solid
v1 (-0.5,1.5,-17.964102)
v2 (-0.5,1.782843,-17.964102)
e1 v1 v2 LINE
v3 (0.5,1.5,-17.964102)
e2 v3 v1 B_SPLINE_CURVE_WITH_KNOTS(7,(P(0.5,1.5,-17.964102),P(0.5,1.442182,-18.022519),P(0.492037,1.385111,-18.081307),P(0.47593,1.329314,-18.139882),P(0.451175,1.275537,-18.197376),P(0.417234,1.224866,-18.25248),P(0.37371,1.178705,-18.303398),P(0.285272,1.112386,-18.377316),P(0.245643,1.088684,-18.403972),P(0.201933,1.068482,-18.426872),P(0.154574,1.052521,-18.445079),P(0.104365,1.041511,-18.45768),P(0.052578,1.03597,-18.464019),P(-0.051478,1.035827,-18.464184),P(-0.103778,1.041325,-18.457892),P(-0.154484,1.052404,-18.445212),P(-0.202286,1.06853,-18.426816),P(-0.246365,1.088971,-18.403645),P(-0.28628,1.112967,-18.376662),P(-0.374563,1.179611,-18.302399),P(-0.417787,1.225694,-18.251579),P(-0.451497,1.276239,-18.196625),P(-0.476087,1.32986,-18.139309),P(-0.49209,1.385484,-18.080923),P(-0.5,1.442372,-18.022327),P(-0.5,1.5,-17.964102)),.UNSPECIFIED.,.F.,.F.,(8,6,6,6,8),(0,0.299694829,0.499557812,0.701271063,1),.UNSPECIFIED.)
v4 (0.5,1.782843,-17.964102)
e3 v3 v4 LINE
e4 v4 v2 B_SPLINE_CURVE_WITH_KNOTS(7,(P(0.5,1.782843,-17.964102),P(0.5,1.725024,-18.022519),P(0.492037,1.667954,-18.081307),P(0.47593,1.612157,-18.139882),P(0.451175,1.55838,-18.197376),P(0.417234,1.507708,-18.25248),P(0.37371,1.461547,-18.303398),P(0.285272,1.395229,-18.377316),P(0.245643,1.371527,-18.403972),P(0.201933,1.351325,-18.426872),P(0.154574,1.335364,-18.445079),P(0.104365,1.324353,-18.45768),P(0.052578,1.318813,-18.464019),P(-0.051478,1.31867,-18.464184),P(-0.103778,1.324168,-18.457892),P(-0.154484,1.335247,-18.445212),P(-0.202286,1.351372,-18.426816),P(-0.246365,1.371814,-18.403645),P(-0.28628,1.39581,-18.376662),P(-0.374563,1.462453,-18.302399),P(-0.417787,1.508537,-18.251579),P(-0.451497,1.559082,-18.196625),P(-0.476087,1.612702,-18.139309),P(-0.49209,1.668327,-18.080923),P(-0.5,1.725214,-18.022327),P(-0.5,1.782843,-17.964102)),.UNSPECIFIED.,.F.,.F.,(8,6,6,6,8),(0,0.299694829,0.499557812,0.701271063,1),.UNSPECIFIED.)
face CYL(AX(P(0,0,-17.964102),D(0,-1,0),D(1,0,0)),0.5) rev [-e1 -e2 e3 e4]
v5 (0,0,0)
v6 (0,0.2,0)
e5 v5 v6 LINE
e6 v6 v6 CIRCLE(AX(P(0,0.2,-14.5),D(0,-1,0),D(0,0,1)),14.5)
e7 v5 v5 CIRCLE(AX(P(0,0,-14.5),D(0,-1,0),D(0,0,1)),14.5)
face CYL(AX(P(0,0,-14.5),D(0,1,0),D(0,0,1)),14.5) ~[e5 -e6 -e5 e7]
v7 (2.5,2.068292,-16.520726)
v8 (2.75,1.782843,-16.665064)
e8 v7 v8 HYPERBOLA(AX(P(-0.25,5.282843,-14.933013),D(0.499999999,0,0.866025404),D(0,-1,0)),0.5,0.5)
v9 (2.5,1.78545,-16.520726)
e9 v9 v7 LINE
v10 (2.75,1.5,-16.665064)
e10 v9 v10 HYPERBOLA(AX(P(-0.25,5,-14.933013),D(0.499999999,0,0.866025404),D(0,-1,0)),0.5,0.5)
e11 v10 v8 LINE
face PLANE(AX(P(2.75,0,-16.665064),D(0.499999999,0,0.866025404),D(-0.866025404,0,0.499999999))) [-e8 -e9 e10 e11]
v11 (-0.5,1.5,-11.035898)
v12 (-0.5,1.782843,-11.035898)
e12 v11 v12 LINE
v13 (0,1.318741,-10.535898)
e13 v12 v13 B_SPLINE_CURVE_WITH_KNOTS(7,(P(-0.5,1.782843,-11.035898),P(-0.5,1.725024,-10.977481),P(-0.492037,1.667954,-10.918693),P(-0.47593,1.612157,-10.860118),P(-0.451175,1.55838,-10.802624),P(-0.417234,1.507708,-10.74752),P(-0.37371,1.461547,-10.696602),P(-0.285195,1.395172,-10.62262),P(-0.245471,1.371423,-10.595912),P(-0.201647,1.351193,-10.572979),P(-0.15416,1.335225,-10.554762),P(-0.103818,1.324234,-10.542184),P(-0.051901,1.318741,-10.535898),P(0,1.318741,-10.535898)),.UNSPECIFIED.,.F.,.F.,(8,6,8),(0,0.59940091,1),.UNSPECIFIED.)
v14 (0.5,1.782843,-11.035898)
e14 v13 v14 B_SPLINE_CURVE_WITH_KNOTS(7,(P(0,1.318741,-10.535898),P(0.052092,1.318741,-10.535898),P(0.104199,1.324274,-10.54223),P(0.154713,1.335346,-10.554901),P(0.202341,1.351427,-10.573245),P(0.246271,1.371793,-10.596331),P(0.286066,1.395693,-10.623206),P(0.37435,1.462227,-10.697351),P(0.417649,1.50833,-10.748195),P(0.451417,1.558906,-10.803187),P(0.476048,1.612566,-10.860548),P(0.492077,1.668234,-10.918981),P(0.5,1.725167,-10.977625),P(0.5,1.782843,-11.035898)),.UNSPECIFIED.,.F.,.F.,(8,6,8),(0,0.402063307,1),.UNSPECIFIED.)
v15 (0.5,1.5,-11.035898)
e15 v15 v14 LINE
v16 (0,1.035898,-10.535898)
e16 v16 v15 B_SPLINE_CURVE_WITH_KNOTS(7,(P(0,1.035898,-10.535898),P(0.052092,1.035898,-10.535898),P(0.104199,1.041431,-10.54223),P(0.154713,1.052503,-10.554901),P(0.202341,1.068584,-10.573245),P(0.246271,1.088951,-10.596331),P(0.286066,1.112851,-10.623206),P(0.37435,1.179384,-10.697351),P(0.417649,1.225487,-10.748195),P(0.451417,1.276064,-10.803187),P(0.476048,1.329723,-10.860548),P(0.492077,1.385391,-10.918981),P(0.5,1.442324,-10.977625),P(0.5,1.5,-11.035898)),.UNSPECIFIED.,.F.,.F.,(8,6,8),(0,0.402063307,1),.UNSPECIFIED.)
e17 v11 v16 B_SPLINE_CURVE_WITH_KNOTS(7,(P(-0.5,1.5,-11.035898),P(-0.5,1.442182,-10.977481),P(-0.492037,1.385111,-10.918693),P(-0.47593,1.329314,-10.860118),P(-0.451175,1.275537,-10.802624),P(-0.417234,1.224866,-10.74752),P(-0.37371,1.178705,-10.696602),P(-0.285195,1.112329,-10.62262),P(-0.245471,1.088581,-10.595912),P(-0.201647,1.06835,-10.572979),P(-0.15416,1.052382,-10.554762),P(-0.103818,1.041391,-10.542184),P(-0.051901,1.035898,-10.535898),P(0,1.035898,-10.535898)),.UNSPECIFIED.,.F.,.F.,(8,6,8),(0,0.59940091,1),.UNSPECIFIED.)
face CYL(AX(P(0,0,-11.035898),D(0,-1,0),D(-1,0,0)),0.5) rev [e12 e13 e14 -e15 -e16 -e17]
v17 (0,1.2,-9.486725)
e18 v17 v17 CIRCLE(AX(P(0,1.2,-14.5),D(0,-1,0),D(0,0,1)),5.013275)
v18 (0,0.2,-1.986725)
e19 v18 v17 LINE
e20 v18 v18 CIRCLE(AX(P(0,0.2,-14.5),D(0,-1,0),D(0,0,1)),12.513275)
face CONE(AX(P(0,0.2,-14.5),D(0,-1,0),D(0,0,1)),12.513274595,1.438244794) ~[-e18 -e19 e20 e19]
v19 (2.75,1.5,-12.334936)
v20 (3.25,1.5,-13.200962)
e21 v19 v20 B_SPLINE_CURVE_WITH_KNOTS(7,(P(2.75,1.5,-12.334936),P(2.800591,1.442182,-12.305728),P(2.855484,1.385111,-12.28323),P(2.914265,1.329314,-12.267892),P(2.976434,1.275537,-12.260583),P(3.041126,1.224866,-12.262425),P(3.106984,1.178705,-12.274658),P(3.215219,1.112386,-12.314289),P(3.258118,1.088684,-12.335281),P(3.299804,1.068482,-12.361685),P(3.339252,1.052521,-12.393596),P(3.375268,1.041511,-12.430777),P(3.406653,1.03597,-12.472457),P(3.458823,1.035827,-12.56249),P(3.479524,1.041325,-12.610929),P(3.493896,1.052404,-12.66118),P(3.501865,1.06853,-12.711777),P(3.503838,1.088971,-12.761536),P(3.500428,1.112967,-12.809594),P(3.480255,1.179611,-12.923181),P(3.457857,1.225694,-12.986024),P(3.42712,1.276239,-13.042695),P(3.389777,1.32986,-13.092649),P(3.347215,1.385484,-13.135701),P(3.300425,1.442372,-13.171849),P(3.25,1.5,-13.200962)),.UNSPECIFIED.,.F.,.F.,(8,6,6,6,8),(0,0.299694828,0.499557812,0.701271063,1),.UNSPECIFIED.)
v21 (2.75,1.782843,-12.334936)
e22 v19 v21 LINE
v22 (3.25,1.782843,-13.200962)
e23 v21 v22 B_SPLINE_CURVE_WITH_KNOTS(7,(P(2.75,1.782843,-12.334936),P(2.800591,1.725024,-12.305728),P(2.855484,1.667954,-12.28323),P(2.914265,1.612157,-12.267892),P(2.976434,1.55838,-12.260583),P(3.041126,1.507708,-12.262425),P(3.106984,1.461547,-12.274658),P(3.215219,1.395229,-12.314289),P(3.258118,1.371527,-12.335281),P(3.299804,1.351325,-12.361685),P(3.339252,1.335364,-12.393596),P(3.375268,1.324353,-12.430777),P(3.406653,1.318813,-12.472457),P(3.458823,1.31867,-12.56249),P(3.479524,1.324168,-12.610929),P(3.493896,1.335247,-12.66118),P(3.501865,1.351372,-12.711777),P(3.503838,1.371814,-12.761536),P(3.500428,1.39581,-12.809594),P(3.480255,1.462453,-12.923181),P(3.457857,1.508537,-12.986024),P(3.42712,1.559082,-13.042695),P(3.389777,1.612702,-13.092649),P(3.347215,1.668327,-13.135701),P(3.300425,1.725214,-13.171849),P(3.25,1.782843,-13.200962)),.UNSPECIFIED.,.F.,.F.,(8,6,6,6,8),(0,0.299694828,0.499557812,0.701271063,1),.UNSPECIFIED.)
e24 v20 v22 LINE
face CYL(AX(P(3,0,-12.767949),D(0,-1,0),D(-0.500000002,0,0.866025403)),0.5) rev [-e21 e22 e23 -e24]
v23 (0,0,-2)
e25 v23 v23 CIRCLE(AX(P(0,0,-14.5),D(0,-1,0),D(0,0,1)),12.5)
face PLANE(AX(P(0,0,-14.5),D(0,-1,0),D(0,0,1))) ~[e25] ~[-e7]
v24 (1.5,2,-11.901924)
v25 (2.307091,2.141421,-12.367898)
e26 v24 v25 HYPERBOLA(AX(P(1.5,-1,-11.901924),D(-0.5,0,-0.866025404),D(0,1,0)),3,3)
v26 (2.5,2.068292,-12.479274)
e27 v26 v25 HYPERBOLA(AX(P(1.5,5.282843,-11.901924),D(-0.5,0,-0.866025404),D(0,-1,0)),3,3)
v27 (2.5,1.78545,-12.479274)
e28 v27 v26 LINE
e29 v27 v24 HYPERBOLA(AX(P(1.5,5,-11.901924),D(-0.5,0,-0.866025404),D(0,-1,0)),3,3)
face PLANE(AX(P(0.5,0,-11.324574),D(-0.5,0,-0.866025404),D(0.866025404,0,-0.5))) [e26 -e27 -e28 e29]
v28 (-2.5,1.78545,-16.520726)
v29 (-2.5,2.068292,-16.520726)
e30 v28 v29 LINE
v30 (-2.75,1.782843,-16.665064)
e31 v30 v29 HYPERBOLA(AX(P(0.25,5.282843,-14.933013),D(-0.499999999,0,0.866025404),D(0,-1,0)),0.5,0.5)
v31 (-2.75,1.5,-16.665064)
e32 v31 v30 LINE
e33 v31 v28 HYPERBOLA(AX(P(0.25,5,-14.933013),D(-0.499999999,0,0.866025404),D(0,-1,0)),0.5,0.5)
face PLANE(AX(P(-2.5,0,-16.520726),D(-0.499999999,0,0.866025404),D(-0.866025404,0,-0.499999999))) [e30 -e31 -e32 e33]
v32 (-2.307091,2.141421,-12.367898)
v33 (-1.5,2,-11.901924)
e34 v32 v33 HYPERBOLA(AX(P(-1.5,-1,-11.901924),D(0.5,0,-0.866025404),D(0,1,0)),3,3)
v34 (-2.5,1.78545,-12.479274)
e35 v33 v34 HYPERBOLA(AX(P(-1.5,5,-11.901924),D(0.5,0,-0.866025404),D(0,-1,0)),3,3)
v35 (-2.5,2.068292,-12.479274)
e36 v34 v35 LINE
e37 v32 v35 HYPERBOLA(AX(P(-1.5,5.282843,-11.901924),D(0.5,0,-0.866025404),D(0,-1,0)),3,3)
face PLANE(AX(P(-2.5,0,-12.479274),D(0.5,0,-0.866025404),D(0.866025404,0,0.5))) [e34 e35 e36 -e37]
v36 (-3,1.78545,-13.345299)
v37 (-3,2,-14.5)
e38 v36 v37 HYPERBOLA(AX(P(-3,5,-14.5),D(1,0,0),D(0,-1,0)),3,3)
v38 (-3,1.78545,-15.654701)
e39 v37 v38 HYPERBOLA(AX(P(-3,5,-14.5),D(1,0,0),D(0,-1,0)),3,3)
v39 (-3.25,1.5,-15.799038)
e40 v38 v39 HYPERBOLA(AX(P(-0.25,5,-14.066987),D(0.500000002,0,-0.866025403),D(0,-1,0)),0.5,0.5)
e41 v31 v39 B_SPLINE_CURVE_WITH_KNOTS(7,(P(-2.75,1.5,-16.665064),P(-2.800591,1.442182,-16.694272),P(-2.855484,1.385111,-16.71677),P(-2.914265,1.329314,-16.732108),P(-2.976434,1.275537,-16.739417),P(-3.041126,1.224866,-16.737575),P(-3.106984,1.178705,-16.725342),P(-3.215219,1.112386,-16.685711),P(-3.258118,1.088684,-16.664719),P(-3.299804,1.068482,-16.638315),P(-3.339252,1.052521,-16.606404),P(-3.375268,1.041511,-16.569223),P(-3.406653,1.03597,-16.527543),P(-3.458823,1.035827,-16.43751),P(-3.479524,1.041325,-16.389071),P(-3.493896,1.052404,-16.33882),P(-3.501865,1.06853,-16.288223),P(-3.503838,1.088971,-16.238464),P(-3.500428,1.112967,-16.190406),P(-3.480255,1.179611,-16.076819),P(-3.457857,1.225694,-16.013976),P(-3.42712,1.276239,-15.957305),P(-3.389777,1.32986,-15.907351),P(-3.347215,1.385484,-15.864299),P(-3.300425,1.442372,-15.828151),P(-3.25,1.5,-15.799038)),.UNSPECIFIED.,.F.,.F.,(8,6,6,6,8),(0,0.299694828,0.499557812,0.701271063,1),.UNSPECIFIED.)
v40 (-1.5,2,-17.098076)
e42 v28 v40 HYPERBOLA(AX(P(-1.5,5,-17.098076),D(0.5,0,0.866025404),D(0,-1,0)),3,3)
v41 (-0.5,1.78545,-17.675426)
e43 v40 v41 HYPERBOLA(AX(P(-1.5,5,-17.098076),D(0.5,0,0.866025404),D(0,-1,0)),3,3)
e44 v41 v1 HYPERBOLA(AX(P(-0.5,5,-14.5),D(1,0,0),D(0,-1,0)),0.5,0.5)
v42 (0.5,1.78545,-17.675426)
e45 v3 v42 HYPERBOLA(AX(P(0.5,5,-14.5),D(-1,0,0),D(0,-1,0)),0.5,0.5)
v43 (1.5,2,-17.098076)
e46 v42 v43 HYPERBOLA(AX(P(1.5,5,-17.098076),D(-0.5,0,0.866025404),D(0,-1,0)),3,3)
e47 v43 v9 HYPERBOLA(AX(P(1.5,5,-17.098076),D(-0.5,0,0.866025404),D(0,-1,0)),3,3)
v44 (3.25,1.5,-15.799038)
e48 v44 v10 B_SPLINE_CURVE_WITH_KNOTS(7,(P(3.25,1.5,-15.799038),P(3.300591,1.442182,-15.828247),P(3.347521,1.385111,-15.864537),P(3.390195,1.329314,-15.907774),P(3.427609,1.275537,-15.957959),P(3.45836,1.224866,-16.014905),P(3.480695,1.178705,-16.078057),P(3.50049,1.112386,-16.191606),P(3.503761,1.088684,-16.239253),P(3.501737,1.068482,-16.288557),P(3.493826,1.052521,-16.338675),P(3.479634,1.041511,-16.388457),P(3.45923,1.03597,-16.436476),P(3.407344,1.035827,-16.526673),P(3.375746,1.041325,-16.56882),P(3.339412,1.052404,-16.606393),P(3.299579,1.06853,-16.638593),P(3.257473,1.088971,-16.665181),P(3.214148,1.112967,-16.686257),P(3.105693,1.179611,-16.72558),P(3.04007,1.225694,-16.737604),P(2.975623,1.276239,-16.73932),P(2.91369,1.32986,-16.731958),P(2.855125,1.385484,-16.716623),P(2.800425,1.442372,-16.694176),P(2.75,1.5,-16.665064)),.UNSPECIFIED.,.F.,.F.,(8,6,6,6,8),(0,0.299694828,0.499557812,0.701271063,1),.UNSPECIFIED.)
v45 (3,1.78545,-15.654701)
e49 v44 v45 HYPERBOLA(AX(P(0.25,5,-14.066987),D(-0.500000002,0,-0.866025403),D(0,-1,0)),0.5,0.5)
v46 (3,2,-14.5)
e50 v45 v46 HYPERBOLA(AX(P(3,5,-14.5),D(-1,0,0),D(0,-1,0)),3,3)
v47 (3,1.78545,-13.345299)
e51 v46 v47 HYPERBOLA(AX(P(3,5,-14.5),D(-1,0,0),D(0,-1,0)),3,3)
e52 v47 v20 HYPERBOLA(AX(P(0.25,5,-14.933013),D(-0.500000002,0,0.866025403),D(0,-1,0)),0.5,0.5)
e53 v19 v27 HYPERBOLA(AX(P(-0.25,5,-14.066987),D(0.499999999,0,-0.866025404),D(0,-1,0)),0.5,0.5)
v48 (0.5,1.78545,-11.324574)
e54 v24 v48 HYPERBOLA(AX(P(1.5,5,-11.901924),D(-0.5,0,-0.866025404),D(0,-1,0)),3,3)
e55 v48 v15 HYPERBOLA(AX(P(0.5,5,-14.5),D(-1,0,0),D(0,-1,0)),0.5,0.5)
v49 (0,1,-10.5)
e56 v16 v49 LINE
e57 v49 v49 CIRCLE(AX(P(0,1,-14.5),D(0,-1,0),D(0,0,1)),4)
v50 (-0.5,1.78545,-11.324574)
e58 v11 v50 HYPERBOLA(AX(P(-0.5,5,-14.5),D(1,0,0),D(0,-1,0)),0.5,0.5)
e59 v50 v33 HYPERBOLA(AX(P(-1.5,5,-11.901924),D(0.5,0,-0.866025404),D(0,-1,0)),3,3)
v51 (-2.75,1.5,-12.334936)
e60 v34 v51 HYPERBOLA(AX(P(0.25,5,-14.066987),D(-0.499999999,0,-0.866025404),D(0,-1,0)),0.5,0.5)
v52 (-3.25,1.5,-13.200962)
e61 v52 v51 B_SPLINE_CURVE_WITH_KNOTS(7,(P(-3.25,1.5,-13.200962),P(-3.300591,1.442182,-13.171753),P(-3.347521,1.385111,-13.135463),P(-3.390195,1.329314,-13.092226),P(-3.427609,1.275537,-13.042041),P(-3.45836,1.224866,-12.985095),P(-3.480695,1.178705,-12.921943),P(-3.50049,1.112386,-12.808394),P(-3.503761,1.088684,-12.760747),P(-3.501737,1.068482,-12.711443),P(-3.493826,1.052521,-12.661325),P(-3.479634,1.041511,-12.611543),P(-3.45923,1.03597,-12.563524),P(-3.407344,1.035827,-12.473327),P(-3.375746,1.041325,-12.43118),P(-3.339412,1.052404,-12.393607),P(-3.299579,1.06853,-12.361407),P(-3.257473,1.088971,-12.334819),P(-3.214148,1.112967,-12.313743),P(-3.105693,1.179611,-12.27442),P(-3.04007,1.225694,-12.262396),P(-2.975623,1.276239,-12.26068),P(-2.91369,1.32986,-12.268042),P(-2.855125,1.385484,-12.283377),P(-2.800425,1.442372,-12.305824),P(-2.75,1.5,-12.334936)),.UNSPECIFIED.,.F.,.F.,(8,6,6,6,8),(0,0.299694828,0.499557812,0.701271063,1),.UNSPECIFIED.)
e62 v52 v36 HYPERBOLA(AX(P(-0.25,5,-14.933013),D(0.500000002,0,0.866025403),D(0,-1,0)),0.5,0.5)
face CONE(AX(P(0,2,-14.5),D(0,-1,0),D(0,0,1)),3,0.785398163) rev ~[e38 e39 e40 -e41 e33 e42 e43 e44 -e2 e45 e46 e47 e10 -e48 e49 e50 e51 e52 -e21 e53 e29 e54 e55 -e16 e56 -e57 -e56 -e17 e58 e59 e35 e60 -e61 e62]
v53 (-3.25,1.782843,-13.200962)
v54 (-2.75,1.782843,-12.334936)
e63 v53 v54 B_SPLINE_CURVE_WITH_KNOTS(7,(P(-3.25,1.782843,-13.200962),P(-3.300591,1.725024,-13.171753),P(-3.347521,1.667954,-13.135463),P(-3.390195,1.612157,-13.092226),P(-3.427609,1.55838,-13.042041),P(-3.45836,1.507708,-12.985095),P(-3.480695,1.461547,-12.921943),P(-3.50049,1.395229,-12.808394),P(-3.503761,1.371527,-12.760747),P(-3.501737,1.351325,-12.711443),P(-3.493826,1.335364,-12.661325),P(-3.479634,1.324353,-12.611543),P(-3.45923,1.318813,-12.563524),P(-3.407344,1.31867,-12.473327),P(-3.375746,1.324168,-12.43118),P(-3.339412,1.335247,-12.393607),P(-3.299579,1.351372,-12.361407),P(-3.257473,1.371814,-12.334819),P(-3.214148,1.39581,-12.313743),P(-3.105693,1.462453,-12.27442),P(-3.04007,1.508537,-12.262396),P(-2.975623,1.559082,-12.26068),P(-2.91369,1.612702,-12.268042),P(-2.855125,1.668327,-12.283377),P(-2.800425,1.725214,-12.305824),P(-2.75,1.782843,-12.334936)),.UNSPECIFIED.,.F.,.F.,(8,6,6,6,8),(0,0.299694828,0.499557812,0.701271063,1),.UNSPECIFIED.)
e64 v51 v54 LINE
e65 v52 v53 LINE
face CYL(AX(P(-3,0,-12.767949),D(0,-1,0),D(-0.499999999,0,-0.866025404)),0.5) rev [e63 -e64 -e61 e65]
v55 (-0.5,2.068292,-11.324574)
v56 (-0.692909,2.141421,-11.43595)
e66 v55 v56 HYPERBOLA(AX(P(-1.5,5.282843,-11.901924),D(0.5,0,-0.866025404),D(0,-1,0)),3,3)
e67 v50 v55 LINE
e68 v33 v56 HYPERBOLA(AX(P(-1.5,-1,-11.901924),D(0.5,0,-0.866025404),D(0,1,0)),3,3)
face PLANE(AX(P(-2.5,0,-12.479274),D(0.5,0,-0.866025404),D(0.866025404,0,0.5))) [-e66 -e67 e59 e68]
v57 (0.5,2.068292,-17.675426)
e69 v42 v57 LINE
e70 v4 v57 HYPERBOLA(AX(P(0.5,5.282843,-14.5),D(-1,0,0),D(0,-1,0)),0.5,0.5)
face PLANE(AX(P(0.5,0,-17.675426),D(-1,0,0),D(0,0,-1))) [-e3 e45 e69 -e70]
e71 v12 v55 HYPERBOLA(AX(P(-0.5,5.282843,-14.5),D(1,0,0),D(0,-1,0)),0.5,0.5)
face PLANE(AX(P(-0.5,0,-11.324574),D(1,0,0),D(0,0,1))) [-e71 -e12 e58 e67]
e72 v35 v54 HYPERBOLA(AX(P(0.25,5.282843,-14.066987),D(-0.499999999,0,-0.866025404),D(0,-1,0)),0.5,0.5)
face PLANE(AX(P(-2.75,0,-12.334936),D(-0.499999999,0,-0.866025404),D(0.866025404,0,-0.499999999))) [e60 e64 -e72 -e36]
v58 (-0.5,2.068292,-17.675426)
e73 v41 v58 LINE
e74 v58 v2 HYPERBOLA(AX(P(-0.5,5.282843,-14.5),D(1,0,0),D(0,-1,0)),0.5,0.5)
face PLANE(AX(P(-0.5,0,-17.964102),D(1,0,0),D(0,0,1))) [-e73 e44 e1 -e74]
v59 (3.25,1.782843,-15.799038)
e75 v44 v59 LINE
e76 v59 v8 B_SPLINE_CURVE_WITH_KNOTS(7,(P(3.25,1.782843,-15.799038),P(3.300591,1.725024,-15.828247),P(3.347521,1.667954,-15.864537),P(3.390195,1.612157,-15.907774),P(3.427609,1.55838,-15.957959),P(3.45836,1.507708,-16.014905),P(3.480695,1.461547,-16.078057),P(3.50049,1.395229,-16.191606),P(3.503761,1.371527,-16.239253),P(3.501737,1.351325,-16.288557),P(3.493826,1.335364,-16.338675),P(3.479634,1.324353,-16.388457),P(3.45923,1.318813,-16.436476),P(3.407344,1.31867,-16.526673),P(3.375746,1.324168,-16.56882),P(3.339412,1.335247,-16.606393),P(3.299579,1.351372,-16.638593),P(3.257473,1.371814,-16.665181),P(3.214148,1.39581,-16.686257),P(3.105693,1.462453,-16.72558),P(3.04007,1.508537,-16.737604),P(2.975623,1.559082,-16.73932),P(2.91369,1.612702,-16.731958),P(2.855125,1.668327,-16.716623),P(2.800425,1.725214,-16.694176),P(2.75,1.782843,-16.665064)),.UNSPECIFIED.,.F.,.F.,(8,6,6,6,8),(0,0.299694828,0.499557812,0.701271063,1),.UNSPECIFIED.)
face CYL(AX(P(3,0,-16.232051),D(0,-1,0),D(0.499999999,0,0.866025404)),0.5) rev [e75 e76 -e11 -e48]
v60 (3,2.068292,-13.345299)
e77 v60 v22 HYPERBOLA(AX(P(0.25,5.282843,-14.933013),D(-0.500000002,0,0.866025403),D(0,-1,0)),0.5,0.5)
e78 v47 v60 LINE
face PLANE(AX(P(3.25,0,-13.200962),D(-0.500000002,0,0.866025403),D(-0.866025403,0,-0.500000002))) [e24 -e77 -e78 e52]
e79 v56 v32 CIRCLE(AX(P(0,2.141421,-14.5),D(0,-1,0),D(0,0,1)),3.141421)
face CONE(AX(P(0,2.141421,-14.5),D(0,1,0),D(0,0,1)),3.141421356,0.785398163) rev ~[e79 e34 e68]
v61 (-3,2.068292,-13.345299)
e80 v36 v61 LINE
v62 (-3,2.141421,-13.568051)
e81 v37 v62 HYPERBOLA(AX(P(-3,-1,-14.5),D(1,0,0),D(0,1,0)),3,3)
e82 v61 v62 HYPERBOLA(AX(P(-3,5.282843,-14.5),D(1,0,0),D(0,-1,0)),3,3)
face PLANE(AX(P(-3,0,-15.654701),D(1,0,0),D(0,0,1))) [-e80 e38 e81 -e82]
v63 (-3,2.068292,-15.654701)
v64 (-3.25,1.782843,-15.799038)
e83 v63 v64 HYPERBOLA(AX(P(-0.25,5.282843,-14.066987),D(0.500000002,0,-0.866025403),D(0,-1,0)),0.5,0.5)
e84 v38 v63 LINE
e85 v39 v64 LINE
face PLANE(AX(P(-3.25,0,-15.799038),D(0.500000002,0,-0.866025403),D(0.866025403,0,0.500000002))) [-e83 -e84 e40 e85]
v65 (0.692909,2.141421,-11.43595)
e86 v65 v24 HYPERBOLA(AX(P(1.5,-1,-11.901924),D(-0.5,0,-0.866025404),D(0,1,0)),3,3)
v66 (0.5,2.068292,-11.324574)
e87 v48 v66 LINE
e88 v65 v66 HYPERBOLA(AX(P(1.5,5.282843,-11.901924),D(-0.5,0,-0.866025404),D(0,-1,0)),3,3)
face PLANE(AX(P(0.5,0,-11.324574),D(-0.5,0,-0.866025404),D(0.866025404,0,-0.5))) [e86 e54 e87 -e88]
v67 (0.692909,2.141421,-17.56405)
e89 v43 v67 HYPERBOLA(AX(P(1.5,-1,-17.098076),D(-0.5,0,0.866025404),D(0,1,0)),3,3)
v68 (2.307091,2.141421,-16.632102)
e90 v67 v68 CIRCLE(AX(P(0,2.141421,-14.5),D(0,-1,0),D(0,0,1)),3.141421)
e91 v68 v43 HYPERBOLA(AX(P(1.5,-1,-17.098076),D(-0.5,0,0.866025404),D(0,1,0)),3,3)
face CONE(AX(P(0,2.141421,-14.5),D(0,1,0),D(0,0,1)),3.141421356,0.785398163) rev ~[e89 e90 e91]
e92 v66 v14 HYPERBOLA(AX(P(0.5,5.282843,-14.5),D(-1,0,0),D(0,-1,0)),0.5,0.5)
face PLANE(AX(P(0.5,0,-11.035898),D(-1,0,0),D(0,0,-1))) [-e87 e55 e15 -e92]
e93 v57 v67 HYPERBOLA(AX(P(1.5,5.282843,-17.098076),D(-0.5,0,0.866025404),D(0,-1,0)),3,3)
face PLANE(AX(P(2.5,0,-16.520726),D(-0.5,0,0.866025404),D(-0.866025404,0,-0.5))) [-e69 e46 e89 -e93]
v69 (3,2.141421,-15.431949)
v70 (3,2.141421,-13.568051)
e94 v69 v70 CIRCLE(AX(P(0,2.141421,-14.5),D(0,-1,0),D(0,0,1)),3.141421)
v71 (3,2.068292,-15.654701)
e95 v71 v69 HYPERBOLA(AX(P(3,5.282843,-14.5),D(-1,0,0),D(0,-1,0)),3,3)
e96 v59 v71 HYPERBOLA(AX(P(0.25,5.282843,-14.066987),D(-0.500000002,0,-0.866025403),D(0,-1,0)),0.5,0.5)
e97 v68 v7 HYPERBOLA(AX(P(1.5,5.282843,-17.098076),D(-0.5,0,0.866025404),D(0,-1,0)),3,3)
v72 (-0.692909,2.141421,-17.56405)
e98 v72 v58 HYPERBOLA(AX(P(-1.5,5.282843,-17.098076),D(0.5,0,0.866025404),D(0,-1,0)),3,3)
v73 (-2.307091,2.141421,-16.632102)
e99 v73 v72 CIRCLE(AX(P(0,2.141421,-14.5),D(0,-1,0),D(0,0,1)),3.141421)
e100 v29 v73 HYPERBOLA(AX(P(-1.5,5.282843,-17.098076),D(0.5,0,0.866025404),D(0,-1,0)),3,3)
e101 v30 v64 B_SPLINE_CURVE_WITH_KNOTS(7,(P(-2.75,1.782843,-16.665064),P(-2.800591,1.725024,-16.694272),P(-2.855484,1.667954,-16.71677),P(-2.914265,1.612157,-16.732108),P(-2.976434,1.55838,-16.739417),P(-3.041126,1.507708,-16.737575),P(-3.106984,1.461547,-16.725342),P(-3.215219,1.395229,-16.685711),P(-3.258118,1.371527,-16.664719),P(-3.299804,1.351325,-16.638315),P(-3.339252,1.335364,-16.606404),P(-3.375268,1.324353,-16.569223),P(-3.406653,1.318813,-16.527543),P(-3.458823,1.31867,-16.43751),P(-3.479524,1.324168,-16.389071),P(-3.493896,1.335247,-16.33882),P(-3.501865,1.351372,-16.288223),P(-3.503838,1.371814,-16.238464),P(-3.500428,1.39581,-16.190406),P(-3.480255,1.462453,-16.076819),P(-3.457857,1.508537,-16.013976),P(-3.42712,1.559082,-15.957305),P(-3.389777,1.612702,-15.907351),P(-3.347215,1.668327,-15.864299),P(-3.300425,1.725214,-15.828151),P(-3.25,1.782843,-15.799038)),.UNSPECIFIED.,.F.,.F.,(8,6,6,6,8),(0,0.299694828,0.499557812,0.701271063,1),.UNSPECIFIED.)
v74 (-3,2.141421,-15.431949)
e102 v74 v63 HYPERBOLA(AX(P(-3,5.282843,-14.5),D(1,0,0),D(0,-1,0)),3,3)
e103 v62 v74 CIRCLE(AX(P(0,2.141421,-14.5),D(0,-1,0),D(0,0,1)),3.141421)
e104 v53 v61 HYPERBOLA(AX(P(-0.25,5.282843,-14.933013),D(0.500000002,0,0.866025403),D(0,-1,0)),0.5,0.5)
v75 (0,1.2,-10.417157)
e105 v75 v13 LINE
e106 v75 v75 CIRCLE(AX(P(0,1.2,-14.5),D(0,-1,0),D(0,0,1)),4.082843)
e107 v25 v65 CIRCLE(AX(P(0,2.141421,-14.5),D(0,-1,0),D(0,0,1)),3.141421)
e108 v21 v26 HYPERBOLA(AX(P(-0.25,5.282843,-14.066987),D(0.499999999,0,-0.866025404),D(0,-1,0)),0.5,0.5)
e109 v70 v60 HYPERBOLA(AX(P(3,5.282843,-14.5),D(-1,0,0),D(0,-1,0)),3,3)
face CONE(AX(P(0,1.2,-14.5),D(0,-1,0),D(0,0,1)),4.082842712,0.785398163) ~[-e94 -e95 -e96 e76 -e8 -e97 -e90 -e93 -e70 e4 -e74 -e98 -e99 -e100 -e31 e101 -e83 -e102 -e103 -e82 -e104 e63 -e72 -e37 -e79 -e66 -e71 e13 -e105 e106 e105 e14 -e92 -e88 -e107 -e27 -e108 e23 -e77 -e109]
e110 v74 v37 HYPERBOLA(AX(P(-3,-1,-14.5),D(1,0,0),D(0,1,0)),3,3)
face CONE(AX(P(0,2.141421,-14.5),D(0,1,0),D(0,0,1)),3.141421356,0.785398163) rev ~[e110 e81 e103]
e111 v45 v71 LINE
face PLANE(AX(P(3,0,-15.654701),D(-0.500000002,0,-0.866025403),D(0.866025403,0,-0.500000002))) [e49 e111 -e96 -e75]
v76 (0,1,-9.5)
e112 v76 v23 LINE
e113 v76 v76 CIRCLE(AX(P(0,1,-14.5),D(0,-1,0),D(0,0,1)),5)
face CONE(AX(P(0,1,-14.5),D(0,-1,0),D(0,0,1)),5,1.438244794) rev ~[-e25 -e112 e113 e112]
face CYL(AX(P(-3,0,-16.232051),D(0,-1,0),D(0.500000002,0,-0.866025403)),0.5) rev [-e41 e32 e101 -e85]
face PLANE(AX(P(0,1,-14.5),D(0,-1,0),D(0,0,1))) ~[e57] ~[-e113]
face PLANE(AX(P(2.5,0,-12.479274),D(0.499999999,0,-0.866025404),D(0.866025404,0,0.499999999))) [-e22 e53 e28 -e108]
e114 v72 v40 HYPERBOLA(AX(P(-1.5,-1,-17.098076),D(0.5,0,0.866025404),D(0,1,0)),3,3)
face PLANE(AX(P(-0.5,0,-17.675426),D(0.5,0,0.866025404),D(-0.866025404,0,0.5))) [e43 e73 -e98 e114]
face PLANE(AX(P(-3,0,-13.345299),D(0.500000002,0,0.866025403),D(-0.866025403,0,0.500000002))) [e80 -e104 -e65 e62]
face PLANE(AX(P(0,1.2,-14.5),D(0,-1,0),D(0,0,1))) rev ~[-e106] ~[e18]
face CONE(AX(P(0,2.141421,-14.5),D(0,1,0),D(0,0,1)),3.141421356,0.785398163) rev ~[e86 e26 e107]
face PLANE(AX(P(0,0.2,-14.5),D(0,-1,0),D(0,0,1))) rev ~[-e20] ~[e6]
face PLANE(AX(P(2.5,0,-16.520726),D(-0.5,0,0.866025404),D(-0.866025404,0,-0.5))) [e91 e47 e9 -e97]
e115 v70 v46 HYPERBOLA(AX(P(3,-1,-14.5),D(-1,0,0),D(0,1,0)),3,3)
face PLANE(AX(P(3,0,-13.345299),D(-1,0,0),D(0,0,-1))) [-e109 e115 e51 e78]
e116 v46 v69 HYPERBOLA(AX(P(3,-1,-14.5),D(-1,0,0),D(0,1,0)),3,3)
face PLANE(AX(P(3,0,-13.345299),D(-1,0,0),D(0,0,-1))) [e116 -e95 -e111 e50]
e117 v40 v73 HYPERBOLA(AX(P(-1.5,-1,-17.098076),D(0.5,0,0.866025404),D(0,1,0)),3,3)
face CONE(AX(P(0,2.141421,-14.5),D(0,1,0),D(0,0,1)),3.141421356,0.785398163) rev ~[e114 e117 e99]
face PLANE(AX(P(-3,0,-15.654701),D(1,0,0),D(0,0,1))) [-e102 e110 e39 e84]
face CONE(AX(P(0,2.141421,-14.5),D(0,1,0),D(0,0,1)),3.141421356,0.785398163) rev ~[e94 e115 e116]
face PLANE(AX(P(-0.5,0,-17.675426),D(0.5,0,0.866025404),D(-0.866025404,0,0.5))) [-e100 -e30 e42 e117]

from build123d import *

# Parameters (mm, degrees)
CUT_EXTRUDE2_DEPTH = 10


with BuildPart() as part:
    # Sketch1 → Revolve1 (revolve)
    with BuildSketch(Plane(origin=(0, 0, 0), x_dir=(0, 0, -1), z_dir=(1, 0, 0))):
        Polygon((0, 0), (0, 0.2), (1.986725405, 0.2), (9.486725405, 1.2), (10.417157288, 1.2), (11.358578644, 2.141421356), (11.5, 2), (10.5, 1), (9.5, 1), (2, 0), align=None)
    revolve(axis=Axis((0, 1.2, -14.5), (0, -1, 0)))

    # Sketch3 → Cut-Extrude2 (cut)
    with BuildSketch(Plane(origin=(0, 0, 0), x_dir=(1, 0, 0), z_dir=(0, 1, 0))):
        with BuildLine():
            Line((3.25, 13.200961894), (3, 13.345299462))
            Line((3, 13.345299462), (3, 15.654700538))
            Line((3, 15.654700538), (3.25, 15.799038106))
            ThreePointArc((3.25, 15.799038106), (3.433012702, 16.482050808), (2.75, 16.665063509))
            Line((2.75, 16.665063509), (2.5, 16.520725942))
            Line((2.5, 16.520725942), (0.5, 17.675426481))
            Line((0.5, 17.675426481), (0.5, 17.964101615))
            ThreePointArc((0.5, 17.964101615), (0, 18.464101615), (-0.5, 17.964101615))
            Line((-0.5, 17.964101615), (-0.5, 17.675426481))
            Line((-0.5, 17.675426481), (-2.5, 16.520725942))
            Line((-2.5, 16.520725942), (-2.75, 16.665063509))
            ThreePointArc((-2.75, 16.665063509), (-3.433012702, 16.482050808), (-3.25, 15.799038106))
            Line((-3.25, 15.799038106), (-3, 15.654700538))
            Line((-3, 15.654700538), (-3, 13.345299462))
            Line((-3, 13.345299462), (-3.25, 13.200961894))
            ThreePointArc((-3.25, 13.200961894), (-3.433012702, 12.517949192), (-2.75, 12.334936491))
            Line((-2.75, 12.334936491), (-2.5, 12.479274058))
            Line((-2.5, 12.479274058), (-0.5, 11.324573519))
            Line((-0.5, 11.324573519), (-0.5, 11.035898385))
            ThreePointArc((-0.5, 11.035898385), (0, 10.535898385), (0.5, 11.035898385))
            Line((0.5, 11.035898385), (0.5, 11.324573519))
            Line((0.5, 11.324573519), (2.5, 12.479274058))
            Line((2.5, 12.479274058), (2.75, 12.334936491))
            ThreePointArc((2.75, 12.334936491), (3.433012702, 12.517949192), (3.25, 13.200961894))
        make_face()
    extrude(amount=CUT_EXTRUDE2_DEPTH, mode=Mode.SUBTRACT)


solid = part.part
